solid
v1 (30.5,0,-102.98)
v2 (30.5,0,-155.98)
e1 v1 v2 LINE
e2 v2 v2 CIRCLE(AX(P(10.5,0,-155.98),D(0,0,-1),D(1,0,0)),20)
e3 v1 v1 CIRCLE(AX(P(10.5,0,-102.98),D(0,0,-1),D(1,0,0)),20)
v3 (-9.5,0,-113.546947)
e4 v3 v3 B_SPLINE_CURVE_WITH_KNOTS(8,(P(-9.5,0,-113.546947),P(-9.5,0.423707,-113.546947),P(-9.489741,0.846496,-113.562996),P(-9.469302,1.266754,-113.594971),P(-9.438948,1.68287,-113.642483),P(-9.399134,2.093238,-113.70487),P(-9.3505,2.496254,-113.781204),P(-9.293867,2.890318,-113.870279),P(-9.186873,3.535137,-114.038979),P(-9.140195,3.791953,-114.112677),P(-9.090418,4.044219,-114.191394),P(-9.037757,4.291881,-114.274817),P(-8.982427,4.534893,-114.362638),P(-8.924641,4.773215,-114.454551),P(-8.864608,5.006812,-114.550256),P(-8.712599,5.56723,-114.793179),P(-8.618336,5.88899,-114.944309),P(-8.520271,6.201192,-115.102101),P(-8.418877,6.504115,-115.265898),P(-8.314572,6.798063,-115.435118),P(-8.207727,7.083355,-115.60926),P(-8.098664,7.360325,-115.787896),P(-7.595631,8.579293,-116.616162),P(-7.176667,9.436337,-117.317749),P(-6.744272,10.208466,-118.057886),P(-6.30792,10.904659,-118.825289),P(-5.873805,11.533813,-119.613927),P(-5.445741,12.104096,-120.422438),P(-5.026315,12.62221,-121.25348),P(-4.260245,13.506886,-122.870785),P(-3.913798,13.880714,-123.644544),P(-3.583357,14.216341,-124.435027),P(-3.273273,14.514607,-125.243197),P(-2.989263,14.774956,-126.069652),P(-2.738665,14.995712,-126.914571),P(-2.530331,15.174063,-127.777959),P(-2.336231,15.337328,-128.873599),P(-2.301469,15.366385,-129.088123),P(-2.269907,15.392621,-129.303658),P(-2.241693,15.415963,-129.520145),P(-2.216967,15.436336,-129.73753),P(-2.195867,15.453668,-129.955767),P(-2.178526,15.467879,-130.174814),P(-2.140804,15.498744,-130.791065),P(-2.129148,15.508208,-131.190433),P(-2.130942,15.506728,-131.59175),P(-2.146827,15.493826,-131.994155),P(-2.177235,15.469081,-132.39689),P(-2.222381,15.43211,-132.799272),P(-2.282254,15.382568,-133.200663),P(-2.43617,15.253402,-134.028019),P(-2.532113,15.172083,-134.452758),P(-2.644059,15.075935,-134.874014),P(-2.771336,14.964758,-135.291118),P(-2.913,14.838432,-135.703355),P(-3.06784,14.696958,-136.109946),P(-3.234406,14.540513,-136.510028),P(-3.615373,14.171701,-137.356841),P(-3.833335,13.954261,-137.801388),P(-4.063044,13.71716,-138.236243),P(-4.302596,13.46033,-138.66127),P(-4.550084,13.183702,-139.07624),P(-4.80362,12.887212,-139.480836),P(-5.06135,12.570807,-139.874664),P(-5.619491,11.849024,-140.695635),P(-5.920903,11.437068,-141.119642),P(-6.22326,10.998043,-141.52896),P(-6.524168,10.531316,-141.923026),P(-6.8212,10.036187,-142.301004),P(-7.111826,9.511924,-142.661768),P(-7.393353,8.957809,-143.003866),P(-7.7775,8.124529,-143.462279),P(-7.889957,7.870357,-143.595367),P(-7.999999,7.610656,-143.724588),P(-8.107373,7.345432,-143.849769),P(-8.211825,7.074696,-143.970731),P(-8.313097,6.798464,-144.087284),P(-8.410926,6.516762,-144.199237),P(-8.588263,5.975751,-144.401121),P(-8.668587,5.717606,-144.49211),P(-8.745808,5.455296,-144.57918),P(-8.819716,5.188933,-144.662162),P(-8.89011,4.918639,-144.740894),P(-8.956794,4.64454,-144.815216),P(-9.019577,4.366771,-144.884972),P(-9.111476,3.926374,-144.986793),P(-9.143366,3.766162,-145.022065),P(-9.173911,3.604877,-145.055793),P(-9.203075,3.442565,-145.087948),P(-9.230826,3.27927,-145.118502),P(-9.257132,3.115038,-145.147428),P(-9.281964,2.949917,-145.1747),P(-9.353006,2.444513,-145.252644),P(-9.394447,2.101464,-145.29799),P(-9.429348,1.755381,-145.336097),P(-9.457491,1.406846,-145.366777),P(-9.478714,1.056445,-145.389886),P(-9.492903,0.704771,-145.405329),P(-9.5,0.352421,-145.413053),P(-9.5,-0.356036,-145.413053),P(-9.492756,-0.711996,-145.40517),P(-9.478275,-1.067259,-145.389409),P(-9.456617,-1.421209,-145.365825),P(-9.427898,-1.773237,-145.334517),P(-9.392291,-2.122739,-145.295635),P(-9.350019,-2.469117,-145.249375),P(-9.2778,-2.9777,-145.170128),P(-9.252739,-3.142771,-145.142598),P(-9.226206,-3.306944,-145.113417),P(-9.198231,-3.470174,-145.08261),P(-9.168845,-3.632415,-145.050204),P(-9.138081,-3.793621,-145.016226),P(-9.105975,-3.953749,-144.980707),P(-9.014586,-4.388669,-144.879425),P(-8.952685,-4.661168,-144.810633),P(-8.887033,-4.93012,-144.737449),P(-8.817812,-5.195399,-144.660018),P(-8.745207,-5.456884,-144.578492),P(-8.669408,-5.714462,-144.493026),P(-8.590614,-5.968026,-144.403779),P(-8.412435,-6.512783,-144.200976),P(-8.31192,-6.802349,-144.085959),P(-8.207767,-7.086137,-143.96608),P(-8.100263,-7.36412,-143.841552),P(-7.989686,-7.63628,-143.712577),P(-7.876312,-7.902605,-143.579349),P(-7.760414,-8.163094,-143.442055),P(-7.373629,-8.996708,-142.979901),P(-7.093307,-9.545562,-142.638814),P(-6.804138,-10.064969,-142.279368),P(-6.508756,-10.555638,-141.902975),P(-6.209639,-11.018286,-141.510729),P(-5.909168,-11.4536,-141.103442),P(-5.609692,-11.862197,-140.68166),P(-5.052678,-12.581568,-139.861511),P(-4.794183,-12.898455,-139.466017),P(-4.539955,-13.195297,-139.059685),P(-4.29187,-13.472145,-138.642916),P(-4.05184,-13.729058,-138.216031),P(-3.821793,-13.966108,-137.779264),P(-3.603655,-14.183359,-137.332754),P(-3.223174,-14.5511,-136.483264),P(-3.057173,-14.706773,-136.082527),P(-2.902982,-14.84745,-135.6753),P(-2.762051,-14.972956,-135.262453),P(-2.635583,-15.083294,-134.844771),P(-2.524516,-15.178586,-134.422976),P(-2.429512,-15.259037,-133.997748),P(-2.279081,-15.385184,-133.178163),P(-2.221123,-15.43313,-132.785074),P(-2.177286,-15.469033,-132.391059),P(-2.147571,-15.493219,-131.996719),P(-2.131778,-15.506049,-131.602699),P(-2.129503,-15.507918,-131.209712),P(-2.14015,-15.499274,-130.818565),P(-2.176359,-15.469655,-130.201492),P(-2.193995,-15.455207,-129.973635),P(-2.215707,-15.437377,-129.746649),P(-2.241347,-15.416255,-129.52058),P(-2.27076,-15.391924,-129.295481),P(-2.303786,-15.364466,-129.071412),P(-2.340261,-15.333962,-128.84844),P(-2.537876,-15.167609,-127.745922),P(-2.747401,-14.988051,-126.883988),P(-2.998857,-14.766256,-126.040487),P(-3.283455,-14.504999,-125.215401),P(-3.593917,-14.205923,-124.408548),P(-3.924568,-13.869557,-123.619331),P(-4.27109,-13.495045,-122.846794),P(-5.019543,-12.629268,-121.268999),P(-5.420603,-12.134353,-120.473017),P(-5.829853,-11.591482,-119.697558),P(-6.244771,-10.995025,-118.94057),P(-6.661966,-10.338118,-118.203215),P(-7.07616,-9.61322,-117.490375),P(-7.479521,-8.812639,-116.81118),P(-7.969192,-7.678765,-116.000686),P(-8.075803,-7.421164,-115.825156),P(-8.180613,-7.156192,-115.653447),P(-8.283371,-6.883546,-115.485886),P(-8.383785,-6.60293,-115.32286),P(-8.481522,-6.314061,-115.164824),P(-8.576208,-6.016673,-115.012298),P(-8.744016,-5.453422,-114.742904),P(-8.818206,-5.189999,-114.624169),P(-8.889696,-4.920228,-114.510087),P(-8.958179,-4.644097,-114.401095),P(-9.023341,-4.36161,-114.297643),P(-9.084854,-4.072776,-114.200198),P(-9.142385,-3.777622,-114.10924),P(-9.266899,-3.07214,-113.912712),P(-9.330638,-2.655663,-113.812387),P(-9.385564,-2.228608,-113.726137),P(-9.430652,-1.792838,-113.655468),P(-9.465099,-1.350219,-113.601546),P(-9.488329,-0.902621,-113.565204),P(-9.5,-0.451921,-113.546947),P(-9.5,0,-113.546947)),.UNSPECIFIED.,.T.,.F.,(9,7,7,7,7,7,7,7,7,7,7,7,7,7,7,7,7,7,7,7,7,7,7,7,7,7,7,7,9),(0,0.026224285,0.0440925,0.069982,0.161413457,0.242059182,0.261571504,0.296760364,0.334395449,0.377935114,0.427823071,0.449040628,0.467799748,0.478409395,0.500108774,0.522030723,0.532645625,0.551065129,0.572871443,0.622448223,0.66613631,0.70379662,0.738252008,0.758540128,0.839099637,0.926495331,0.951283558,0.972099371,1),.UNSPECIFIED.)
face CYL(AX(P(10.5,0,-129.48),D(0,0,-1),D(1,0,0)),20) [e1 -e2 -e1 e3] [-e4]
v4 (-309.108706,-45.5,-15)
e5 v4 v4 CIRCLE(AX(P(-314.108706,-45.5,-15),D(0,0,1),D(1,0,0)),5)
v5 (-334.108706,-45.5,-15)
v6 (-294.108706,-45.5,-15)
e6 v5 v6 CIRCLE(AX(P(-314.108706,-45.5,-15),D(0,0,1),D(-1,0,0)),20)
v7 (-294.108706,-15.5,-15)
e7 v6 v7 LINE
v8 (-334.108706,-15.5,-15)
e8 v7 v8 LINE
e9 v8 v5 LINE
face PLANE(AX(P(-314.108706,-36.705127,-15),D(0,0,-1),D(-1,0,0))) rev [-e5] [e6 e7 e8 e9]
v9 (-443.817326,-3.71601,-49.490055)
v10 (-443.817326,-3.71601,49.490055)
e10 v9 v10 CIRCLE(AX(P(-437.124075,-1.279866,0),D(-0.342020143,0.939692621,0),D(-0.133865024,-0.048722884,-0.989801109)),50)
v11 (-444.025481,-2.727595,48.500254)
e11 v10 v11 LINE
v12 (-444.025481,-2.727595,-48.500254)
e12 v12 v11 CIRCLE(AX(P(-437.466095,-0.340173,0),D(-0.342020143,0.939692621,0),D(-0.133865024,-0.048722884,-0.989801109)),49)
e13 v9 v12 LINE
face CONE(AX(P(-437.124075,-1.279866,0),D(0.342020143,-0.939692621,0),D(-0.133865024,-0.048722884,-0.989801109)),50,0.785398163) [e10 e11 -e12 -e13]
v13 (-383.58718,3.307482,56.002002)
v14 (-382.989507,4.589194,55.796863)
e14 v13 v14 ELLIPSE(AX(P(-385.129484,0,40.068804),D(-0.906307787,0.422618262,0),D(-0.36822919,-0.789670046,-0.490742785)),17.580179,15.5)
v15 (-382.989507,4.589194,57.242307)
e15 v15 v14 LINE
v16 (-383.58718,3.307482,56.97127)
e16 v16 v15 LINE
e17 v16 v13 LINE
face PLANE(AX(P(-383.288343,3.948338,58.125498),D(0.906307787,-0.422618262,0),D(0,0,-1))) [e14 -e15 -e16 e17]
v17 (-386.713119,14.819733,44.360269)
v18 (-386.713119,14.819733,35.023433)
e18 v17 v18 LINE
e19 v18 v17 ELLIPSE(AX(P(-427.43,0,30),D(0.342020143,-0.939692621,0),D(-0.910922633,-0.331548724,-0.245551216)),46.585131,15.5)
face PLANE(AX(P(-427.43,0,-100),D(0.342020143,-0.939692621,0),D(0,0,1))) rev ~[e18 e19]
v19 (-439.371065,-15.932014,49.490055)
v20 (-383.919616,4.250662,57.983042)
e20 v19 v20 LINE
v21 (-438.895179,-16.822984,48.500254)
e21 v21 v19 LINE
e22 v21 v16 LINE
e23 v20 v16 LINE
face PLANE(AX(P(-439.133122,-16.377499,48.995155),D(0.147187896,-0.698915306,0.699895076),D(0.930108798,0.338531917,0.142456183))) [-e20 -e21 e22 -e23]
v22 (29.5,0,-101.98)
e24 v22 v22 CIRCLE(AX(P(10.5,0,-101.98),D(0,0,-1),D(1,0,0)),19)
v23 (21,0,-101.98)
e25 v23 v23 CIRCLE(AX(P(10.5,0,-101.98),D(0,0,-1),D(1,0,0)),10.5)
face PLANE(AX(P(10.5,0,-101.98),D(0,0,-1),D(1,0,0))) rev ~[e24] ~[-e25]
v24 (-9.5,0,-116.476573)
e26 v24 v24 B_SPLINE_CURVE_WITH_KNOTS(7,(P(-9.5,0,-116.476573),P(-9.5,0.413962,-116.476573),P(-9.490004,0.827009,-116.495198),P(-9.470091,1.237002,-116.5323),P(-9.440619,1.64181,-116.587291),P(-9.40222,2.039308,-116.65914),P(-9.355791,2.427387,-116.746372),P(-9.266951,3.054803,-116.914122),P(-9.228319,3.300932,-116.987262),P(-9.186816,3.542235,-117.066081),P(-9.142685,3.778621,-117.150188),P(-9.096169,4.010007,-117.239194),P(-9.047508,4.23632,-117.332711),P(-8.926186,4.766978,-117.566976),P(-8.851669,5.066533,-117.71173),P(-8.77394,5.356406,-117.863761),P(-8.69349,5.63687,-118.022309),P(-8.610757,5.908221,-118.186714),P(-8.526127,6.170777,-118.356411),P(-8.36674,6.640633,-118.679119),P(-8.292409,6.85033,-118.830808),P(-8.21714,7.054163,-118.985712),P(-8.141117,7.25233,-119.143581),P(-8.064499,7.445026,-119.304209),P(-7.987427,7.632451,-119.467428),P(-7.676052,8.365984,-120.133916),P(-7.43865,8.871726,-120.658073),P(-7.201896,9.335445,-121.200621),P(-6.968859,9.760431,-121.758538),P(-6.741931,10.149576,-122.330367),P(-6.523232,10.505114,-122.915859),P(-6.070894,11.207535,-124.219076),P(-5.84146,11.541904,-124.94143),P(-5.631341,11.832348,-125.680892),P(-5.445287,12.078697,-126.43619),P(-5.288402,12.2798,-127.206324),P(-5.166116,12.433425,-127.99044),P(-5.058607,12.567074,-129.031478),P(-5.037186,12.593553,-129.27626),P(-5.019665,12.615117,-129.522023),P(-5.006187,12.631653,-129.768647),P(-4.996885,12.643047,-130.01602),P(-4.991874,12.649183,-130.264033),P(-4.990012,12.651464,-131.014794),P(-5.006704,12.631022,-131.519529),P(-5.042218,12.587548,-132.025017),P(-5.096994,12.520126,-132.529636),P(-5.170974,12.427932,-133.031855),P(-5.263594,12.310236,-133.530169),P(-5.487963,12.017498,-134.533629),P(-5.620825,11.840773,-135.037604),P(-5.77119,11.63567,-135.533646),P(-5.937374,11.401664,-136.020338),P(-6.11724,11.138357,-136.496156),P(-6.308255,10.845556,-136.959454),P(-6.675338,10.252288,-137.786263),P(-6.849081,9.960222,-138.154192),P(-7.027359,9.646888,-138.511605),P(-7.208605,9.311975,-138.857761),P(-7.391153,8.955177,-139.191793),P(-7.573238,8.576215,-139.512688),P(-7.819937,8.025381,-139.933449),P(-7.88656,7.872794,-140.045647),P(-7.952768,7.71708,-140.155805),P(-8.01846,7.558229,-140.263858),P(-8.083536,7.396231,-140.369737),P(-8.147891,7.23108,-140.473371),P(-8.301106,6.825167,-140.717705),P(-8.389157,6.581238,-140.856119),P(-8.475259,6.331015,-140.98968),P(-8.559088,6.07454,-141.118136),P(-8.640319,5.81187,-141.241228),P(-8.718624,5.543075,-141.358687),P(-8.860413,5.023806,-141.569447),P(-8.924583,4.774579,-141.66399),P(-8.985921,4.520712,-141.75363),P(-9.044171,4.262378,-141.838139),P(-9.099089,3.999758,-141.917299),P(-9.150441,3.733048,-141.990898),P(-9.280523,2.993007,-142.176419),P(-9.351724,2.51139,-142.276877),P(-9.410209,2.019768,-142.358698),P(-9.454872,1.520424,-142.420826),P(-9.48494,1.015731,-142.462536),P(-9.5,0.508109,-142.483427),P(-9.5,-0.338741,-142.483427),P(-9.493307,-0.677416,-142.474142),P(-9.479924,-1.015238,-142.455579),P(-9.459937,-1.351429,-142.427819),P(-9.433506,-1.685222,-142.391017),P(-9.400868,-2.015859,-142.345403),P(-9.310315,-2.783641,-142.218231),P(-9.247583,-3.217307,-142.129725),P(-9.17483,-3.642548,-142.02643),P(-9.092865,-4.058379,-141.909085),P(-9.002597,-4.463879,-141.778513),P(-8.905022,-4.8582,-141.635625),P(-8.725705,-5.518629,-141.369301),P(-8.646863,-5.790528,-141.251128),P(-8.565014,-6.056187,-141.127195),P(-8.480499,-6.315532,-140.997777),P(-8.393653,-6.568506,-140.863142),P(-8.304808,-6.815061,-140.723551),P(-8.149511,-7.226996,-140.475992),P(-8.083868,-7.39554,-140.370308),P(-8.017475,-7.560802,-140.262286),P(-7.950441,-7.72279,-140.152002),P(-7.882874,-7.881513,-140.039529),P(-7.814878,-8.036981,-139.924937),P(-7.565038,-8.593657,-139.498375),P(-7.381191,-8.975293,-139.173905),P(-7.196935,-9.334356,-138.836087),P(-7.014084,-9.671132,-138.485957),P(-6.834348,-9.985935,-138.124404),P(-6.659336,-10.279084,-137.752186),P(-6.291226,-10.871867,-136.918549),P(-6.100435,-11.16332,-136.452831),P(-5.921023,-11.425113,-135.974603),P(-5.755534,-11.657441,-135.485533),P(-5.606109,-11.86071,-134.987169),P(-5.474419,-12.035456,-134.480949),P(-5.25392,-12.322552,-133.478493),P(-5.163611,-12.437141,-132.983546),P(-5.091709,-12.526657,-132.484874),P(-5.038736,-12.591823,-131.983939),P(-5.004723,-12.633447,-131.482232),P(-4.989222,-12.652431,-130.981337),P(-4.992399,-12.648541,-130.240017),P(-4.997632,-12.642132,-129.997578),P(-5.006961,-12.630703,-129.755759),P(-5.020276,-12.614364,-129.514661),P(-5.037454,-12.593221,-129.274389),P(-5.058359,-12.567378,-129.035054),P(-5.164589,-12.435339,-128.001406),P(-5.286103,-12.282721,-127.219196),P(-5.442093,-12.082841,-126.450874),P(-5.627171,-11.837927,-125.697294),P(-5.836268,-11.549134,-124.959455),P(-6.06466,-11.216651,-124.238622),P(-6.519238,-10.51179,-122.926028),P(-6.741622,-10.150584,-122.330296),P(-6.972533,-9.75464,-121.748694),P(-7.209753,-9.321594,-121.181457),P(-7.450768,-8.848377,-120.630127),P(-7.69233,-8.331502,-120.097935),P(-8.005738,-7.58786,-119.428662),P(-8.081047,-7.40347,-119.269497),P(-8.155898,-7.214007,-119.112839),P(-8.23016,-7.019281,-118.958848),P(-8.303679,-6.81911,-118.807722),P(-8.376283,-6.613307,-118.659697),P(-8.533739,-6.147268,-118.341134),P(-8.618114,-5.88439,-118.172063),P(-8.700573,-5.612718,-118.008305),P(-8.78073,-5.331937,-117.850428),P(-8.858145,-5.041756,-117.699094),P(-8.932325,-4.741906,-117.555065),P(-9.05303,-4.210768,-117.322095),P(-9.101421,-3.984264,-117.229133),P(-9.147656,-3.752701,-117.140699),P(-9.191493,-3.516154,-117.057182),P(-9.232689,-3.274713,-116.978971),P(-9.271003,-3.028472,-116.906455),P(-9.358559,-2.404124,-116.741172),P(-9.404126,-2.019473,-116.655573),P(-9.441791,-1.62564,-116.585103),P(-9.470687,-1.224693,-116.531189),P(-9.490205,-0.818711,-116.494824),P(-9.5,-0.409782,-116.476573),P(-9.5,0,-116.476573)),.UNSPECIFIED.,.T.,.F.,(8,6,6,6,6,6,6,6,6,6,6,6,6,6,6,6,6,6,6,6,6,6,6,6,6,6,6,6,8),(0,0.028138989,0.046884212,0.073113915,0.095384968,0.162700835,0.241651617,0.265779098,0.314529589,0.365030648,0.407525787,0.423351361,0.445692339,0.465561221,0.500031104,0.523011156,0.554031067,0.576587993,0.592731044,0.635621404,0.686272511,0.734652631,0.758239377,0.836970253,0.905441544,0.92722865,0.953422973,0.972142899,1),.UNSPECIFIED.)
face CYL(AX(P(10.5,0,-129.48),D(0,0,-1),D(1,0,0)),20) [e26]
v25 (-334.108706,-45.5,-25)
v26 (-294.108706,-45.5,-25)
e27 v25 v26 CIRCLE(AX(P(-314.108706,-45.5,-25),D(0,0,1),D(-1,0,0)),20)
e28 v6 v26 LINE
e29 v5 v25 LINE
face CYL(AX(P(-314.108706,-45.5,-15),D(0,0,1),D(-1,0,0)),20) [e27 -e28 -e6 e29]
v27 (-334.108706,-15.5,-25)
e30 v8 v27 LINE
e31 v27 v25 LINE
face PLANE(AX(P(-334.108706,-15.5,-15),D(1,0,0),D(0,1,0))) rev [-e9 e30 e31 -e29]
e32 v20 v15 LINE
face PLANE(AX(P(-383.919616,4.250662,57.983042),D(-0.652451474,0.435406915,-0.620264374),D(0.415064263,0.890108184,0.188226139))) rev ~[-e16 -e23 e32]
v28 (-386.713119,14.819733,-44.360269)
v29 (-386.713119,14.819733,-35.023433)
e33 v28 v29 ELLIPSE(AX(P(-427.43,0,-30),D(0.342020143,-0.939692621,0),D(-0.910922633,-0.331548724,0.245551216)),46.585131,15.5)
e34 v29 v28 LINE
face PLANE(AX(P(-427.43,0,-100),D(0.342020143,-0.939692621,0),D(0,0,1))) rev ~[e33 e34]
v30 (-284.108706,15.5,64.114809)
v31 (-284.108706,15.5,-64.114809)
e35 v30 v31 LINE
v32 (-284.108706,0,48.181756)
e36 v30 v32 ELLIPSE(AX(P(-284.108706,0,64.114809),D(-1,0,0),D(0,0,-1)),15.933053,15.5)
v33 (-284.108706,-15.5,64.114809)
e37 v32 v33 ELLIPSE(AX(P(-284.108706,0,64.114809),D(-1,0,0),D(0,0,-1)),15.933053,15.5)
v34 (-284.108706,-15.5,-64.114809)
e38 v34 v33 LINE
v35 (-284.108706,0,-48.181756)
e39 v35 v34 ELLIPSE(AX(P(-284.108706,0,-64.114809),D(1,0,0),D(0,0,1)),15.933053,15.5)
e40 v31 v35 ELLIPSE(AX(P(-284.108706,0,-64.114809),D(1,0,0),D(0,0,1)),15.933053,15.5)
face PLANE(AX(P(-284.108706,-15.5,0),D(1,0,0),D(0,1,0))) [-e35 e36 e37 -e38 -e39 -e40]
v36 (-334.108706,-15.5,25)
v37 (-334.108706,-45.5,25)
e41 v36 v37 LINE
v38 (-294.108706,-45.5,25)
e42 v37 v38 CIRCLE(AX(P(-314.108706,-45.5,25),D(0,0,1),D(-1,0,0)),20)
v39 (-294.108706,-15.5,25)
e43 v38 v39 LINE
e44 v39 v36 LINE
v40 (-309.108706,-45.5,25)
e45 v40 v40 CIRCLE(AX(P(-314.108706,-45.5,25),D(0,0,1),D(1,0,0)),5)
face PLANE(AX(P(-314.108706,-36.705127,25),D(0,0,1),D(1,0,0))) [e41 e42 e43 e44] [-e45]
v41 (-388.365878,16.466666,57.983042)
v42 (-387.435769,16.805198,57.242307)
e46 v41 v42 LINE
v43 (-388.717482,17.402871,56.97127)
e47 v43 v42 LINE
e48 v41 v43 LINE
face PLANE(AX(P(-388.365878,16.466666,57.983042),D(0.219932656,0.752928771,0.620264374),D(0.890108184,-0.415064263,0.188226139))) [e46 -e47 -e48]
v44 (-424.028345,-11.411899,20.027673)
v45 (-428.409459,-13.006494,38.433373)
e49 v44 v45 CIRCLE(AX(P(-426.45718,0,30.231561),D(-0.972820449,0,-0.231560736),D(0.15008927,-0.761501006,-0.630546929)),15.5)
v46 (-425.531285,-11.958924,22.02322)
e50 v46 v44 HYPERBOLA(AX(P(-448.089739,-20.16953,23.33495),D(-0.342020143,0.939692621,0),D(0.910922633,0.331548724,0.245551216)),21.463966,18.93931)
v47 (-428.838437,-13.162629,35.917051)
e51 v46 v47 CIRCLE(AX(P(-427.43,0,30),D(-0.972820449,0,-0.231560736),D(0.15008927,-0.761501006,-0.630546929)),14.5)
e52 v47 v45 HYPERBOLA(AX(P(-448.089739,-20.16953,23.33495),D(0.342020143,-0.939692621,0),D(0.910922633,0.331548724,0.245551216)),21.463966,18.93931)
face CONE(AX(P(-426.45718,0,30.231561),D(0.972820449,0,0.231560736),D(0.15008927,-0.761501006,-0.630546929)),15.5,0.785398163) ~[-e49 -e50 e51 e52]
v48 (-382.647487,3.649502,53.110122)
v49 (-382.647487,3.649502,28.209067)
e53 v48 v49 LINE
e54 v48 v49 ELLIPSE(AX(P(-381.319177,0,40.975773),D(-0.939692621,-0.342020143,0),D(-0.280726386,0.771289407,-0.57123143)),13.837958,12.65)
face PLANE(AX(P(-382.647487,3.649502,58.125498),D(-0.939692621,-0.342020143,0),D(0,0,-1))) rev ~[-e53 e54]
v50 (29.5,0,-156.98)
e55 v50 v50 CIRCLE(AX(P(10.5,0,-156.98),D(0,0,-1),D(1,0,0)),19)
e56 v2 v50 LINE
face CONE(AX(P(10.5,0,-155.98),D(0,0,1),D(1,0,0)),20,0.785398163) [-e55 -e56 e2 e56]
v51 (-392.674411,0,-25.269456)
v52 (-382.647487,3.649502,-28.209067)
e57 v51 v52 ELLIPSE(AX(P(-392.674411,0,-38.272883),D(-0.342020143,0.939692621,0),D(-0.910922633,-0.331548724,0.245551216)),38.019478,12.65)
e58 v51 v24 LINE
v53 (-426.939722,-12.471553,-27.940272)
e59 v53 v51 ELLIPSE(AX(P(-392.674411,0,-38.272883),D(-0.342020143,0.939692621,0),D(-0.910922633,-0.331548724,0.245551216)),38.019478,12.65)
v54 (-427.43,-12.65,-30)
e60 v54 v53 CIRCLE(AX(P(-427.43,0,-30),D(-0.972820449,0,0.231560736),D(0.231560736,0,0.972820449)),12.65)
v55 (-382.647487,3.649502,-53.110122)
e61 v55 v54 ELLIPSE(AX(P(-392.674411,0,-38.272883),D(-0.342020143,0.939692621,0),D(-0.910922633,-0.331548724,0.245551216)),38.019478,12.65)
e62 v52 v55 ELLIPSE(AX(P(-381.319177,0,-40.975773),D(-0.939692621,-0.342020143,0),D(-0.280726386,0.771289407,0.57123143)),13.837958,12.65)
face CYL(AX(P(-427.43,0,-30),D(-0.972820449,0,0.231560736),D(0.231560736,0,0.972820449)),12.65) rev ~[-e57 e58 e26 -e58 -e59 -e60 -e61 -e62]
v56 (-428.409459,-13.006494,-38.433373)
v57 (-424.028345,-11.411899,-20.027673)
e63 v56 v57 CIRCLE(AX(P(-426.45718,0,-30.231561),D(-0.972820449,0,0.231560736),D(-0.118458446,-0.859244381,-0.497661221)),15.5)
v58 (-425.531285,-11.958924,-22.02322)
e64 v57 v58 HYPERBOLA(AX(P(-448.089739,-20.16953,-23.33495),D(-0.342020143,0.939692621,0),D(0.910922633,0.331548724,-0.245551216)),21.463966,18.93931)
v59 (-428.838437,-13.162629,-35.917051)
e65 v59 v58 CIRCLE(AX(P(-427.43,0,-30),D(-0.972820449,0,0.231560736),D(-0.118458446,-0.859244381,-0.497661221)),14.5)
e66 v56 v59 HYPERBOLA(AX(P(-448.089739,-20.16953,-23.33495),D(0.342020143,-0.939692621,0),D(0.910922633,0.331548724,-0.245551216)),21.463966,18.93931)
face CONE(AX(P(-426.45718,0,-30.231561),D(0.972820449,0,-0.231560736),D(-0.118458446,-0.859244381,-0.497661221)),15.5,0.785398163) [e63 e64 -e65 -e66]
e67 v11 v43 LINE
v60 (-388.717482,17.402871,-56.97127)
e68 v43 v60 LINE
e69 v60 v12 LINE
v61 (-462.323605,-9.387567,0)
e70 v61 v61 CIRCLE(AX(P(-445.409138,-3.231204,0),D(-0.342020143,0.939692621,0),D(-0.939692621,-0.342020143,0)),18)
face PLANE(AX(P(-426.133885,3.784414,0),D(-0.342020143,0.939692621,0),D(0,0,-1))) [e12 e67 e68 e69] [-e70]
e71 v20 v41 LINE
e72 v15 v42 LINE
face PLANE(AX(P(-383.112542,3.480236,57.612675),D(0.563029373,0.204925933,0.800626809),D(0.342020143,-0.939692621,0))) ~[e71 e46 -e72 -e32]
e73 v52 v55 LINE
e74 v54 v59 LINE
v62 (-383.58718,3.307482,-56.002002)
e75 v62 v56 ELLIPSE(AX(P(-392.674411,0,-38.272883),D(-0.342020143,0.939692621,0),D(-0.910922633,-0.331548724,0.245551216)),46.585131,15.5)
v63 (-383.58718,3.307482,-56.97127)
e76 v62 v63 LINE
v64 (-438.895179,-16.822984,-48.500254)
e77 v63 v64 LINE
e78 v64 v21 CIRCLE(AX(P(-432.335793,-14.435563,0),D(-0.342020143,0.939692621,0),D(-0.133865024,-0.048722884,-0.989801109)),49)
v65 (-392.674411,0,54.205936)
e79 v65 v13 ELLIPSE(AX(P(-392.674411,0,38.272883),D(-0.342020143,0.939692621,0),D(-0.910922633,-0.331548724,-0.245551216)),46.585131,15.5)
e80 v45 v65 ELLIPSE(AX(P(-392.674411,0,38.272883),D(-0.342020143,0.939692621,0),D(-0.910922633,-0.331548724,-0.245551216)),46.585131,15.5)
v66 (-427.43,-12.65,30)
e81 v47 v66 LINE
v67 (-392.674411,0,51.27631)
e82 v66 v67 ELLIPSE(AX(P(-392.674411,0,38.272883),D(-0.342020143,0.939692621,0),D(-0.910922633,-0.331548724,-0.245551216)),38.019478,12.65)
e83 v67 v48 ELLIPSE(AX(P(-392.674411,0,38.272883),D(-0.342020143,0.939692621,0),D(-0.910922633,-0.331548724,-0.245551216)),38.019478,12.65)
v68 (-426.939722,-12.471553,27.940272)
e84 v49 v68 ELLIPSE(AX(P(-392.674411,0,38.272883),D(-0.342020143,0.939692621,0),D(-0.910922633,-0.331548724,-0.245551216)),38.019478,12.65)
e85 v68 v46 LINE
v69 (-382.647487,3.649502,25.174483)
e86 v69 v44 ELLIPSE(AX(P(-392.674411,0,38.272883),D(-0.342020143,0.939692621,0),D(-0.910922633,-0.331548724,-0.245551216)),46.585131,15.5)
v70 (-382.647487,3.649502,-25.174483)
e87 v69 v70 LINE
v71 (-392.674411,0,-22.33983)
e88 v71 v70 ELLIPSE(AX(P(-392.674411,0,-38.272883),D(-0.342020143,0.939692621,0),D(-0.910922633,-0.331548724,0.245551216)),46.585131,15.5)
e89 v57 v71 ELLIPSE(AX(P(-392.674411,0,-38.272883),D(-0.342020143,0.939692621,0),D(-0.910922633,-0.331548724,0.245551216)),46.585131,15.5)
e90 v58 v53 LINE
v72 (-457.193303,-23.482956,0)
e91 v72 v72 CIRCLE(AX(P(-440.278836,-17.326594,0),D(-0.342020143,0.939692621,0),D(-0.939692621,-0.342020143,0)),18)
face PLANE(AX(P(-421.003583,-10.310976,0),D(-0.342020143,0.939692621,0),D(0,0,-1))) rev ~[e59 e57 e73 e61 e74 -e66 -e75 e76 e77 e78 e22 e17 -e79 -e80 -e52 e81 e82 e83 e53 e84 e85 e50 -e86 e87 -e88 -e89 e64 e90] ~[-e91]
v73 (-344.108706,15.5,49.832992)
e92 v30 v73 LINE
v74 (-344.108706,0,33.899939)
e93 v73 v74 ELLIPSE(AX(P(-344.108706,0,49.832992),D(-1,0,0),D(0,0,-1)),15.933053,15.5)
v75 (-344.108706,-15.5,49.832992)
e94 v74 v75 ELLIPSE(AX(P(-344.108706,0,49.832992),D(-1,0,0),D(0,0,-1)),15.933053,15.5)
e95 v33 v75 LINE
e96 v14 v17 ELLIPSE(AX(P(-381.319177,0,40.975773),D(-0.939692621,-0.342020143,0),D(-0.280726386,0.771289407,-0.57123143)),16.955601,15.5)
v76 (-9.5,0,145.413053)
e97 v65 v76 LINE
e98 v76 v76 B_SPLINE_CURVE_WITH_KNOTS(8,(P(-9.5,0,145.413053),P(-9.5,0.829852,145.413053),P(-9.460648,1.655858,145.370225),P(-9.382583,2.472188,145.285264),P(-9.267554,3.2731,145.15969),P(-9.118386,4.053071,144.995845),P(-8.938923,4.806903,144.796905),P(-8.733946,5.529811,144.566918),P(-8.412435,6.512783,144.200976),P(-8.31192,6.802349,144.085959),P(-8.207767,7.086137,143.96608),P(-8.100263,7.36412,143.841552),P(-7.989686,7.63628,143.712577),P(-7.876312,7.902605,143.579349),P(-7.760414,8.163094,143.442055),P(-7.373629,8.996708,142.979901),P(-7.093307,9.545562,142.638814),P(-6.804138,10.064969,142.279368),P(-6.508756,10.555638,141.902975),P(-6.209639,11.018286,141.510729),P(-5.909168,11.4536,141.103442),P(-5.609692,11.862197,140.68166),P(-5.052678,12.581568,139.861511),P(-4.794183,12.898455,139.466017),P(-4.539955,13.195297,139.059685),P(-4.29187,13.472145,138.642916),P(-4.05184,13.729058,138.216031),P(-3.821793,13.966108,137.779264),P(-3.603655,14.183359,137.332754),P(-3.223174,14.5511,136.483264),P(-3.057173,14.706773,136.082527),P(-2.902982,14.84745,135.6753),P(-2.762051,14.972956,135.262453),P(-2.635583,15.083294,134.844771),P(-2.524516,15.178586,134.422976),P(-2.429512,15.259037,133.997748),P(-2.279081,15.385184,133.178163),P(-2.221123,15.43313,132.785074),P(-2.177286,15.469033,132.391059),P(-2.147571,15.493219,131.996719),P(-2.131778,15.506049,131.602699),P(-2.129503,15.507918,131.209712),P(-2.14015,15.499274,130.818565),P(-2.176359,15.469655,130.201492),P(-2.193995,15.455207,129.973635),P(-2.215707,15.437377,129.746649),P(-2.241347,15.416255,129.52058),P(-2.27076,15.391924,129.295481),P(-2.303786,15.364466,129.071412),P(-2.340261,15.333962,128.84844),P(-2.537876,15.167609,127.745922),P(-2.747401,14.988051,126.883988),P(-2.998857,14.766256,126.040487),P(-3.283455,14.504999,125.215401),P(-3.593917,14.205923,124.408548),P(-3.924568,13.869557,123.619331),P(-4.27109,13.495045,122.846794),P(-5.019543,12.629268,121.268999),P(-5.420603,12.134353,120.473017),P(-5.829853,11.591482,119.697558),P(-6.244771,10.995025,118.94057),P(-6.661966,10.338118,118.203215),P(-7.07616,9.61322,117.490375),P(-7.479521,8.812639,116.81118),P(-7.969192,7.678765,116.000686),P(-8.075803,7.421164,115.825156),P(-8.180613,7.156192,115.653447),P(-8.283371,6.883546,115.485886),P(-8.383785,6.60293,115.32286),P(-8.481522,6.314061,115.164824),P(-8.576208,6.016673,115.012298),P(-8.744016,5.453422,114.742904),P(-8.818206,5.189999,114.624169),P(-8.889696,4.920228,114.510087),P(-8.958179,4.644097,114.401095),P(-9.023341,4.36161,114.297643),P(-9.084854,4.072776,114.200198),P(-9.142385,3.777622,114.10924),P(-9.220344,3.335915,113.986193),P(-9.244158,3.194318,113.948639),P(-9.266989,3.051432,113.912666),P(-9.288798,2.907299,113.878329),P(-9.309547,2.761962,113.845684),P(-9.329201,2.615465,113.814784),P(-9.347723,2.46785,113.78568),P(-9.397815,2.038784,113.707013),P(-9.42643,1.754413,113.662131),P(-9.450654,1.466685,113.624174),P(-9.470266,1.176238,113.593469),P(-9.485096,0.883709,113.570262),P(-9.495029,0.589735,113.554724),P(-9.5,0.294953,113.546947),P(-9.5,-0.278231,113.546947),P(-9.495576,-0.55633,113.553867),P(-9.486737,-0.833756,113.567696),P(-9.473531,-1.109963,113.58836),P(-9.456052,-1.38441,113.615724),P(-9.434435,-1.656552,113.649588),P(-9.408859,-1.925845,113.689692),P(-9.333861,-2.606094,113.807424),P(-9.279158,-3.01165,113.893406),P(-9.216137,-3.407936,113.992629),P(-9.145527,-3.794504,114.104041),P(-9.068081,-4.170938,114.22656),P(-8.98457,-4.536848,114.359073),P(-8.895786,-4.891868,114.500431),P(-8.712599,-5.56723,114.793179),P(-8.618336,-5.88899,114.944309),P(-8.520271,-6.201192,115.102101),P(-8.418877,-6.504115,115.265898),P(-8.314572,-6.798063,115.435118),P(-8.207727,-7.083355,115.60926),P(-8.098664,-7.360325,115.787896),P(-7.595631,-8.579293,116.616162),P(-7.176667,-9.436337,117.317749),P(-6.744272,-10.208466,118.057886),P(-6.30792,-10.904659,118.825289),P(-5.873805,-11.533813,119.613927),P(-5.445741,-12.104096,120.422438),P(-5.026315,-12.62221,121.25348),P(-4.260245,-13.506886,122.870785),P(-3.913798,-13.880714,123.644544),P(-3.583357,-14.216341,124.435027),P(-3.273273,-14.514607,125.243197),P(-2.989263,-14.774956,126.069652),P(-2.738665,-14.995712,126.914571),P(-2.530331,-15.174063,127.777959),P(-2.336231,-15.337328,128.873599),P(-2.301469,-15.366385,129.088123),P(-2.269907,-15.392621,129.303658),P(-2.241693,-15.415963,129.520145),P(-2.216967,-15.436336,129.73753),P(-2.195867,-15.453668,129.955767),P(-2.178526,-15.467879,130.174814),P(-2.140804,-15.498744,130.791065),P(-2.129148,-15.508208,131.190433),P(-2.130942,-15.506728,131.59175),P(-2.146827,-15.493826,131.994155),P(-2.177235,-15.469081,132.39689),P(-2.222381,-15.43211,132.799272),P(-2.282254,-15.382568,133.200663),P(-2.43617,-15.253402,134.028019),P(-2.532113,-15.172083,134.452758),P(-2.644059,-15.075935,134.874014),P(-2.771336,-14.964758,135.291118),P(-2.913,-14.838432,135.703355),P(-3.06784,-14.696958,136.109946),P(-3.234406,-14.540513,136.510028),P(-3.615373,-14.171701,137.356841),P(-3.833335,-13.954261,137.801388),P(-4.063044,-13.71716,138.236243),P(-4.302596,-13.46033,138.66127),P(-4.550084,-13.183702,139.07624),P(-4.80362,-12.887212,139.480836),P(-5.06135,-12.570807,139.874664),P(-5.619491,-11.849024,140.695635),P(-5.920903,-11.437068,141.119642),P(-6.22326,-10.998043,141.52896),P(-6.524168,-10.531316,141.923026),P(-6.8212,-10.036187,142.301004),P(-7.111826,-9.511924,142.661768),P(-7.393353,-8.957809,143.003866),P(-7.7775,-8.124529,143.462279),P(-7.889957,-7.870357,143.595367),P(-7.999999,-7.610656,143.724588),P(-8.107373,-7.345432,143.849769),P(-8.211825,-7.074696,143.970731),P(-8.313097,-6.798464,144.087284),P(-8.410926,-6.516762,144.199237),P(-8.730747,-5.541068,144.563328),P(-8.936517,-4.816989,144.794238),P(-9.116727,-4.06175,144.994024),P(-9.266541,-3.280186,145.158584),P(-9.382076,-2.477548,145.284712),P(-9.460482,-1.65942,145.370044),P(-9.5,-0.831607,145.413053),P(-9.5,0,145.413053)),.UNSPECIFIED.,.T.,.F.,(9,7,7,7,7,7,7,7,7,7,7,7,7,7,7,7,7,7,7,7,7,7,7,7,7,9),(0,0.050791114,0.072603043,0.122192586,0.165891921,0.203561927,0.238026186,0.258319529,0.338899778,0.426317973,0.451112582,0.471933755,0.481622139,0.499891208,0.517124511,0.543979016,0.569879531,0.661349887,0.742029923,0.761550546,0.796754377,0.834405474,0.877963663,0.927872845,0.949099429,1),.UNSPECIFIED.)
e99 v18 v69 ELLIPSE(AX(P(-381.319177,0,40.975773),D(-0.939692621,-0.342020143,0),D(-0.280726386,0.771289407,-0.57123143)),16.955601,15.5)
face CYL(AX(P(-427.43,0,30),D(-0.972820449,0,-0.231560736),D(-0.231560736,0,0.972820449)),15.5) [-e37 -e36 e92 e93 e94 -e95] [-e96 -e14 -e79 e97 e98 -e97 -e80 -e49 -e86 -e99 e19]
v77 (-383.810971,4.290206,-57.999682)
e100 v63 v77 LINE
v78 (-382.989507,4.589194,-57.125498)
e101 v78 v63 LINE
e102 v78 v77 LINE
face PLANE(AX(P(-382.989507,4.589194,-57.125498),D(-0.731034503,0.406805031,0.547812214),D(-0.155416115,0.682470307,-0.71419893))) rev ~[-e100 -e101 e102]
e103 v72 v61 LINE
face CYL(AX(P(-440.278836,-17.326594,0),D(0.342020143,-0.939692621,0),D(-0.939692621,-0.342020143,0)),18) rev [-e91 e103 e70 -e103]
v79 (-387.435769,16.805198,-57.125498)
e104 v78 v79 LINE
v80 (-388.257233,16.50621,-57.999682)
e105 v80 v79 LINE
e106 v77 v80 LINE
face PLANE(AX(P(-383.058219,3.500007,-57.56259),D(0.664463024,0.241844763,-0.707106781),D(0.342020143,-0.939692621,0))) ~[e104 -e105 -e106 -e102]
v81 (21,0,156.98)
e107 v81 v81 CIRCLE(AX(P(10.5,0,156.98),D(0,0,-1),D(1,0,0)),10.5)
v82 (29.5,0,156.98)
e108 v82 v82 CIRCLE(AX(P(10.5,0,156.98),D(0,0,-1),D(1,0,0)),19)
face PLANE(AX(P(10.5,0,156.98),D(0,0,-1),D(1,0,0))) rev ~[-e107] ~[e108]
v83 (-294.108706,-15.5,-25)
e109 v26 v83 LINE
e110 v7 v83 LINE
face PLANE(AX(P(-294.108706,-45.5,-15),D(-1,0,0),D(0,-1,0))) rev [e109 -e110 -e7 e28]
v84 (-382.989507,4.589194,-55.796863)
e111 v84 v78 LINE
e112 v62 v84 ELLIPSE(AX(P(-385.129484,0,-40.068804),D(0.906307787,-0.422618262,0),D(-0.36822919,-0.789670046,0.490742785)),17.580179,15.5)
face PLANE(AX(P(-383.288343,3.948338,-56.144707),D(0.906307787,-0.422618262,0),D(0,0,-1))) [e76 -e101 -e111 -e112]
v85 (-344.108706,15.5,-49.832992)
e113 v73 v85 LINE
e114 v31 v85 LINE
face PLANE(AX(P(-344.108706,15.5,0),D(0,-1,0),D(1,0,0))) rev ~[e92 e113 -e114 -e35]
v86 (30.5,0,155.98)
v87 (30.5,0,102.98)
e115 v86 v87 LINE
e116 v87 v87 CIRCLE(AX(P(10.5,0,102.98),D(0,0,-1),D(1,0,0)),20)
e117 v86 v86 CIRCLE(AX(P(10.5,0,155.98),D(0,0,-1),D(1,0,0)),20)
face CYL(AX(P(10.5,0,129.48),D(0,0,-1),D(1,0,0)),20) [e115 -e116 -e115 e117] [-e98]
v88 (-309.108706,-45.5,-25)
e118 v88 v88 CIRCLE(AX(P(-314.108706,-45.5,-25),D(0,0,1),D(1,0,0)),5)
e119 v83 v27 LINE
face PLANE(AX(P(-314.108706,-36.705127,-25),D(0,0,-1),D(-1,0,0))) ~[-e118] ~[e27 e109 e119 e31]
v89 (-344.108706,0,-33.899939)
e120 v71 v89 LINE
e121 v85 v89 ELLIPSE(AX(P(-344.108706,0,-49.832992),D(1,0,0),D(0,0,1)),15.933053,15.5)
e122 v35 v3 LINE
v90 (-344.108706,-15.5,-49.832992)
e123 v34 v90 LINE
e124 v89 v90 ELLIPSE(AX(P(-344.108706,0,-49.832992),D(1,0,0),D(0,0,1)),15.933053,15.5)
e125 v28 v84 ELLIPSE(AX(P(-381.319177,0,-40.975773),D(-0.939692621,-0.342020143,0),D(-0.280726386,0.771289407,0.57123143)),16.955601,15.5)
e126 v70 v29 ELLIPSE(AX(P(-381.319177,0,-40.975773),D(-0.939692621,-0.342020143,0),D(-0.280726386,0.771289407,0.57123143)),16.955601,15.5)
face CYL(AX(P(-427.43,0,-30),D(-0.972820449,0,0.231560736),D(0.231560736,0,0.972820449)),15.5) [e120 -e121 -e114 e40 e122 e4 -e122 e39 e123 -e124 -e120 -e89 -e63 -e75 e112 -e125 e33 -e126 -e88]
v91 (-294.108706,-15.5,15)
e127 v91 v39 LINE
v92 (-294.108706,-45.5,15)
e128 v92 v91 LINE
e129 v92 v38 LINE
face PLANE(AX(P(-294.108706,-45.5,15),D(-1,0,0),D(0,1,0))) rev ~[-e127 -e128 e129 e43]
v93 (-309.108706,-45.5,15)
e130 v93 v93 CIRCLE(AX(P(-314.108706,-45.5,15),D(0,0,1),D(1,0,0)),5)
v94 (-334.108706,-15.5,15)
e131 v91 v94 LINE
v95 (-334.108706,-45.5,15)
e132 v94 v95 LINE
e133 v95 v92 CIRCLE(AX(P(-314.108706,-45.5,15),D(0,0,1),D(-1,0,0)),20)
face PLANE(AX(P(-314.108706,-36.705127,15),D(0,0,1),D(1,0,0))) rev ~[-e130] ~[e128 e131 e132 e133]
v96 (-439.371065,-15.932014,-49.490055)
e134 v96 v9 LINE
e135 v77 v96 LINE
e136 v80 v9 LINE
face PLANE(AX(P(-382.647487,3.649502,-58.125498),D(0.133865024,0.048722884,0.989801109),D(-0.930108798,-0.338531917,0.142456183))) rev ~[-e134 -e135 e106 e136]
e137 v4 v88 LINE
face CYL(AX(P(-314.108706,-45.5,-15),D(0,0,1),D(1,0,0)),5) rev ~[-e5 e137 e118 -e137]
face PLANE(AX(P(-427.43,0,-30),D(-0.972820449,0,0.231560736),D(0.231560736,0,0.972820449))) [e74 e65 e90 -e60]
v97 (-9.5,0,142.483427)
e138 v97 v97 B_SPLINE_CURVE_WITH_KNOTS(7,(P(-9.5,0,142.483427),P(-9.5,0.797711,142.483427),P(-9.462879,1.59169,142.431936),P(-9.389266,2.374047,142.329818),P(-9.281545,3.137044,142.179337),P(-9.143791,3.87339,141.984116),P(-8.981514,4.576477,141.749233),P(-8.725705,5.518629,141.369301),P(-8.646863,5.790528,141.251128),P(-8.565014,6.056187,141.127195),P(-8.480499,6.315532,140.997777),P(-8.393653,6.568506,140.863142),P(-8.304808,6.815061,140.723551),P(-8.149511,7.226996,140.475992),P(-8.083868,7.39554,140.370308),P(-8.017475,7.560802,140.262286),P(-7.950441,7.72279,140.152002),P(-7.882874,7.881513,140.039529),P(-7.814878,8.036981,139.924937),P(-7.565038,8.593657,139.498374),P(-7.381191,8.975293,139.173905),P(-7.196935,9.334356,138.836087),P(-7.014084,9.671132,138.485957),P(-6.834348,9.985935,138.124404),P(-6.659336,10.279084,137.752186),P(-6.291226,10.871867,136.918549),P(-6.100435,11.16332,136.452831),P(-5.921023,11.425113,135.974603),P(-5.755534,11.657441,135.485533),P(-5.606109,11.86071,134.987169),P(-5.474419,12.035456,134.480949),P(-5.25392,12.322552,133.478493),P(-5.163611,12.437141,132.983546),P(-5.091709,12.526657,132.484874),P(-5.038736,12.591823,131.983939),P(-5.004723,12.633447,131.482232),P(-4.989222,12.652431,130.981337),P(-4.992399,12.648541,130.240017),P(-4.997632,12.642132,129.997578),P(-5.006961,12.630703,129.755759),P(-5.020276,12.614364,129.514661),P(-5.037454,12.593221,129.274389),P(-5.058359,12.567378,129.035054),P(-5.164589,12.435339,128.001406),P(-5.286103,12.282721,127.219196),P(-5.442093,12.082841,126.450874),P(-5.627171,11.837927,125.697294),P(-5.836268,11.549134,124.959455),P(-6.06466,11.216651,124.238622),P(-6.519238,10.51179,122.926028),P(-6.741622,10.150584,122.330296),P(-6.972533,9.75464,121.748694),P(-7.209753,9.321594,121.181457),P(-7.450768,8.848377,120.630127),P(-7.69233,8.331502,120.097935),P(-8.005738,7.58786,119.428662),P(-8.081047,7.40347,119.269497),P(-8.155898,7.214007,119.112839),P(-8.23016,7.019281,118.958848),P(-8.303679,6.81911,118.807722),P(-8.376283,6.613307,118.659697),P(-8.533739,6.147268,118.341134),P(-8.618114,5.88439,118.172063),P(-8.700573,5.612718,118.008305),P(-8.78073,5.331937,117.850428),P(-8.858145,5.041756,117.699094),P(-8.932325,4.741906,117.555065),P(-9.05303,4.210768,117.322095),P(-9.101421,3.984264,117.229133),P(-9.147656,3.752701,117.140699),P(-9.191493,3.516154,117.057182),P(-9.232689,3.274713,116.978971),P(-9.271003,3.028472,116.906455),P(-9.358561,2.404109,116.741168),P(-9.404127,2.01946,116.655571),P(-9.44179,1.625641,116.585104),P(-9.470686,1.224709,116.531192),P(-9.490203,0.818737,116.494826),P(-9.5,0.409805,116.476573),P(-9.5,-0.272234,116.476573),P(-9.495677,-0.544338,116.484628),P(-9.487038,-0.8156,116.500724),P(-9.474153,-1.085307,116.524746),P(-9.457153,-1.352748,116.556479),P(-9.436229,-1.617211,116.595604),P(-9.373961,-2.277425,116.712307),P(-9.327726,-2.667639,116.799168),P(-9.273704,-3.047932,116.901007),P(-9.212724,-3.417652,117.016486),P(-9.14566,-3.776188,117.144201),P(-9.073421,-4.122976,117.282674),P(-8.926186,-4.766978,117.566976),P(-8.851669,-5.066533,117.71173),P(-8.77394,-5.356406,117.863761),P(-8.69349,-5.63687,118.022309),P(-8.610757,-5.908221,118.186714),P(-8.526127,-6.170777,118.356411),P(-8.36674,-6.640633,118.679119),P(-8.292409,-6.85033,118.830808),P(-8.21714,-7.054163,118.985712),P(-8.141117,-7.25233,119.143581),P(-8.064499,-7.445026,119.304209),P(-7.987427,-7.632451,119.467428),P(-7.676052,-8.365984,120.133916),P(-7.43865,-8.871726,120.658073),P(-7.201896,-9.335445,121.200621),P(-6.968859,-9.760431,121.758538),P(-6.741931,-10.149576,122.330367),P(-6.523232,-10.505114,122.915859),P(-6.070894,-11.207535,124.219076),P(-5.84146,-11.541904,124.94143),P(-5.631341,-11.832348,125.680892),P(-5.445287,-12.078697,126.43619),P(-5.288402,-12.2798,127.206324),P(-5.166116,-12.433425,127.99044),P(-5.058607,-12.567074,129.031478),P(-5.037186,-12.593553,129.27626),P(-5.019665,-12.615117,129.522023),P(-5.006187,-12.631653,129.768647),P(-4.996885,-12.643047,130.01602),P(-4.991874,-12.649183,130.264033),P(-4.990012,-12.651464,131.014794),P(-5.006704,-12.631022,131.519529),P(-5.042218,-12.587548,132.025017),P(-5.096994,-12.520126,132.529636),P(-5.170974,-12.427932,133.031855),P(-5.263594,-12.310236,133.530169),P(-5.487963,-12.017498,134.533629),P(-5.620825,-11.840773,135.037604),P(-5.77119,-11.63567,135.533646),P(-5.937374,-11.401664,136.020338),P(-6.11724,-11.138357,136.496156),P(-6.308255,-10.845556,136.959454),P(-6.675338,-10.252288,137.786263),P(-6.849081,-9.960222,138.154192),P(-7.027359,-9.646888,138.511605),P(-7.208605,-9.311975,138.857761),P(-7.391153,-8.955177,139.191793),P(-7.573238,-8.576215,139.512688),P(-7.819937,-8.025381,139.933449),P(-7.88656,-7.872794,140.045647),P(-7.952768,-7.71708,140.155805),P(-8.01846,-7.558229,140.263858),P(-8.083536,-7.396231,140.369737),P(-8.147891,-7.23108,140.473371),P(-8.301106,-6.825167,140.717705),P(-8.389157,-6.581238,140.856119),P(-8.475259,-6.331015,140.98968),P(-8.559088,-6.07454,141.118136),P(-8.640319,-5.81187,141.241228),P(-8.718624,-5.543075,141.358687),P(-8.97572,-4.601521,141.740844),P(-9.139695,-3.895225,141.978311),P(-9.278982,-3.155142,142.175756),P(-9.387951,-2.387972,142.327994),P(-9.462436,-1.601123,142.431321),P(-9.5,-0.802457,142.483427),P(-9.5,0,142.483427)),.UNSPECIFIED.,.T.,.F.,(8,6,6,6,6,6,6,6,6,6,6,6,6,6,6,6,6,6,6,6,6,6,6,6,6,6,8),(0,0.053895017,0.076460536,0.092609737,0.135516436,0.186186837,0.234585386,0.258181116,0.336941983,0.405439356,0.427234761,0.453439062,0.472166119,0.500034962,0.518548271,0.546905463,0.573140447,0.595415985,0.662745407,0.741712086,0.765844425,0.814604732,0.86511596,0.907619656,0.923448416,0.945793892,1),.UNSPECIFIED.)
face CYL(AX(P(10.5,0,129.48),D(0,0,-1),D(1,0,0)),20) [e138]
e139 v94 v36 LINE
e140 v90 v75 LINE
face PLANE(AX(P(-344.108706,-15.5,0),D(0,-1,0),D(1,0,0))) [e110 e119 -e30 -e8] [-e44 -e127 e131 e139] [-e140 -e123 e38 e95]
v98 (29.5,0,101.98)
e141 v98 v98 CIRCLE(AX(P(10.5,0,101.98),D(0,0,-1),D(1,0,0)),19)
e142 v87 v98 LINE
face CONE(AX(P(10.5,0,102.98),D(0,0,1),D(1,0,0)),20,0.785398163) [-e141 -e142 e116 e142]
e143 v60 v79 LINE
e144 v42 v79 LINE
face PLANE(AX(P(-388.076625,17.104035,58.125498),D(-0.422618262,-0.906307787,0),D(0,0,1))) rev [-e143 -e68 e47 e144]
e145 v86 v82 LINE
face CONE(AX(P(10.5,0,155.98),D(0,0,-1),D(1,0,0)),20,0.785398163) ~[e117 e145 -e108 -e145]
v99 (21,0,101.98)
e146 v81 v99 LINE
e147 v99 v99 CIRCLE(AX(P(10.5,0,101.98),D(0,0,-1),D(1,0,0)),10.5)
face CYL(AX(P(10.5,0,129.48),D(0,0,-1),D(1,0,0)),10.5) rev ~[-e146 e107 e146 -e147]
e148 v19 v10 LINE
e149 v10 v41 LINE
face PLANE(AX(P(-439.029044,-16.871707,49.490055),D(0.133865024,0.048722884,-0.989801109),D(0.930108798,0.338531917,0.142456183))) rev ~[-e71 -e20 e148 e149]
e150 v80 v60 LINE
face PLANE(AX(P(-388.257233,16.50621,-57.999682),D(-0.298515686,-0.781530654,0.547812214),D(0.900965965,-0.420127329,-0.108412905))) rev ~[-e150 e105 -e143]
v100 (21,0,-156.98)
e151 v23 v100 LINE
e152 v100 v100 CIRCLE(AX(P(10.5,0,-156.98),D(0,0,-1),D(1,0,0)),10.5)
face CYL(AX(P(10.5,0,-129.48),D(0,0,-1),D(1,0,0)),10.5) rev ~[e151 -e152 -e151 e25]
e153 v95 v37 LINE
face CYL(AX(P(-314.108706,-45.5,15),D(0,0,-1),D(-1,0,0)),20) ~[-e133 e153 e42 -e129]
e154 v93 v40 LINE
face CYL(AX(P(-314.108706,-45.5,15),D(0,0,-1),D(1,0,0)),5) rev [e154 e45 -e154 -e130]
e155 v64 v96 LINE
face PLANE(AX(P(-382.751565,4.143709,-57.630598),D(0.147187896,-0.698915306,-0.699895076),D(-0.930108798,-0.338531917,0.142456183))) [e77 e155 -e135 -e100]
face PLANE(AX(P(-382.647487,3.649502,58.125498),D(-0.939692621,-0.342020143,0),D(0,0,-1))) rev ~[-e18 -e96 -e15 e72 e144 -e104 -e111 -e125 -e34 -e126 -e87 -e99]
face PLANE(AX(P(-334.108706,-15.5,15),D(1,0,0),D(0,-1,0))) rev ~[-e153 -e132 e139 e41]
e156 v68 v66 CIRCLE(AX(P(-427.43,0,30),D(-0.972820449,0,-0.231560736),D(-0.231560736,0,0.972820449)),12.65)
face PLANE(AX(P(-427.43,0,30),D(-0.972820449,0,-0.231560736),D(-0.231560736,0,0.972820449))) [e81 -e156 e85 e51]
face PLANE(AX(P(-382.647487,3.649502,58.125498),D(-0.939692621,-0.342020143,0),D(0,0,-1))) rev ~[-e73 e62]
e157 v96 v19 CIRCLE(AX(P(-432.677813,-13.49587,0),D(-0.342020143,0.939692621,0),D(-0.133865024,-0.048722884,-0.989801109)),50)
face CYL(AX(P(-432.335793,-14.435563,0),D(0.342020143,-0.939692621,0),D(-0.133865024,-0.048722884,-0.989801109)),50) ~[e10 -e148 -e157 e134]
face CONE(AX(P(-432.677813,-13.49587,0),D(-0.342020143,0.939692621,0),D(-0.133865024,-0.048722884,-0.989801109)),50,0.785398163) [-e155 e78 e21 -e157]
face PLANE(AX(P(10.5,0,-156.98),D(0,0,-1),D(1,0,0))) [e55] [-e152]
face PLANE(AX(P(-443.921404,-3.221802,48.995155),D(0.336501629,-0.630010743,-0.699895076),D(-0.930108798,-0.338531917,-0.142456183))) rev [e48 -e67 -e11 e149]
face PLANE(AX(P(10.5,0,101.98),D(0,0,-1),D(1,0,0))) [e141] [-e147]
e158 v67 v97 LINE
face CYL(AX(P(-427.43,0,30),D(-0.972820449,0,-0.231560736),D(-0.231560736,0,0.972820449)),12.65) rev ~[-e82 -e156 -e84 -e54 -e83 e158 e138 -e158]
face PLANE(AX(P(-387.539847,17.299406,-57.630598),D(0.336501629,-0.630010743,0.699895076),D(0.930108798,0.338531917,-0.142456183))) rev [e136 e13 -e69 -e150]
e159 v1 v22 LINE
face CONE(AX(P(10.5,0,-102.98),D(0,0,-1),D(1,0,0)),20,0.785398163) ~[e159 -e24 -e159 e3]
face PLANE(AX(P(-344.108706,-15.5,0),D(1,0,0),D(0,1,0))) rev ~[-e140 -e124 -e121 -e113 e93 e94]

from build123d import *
from OCP.BRepFilletAPI import BRepFilletAPI_MakeChamfer

# Parameters (mm, degrees)
SKETCH1_W                            = 9.5
SKETCH1_H                            = 55
BOSS_EXTRUDE1_REACH                  = 497.037
BOSS_EXTRUDE1_END_RADIUS             = 20
SKETCH2_R                            = 15.5
SKETCH2_R_2                          = 12.65
BOSS_EXTRUDE2_REACH                  = 497.037
BOSS_EXTRUDE2_END_RADIUS             = 20
SKETCH3_R                            = 15.5
SKETCH3_R_2                          = 12.65
SKETCH9_W                            = 200
SKETCH9_H                            = 33.234380704
CUT_EXTRUDE2_DEPTH                   = 198.5
SKETCH8_R                            = 18
BOSS_EXTRUDE3_DEPTH                  = 15
CHAMFER1_SIZE                        = 1
CHAMFER2_SIZE                        = 1
CHAMFER2_SIZE2                       = 0.883191486
BOSS_EXTRUDE5_REACH                  = 511.879
BOSS_EXTRUDE5_END_RADIUS             = 15.5
SKETCH13_W                           = 60
SKETCH13_H                           = 31
BOSS_EXTRUDE5_DIRECTION_2_REACH      = 511.879
BOSS_EXTRUDE5_DIRECTION_2_END_RADIUS = 15.5
CHAMFER4_SIZE                        = 1
SKETCH19_R                           = 5
BOSS_EXTRUDE7_DEPTH                  = 10


with BuildPart() as part:
    # Sketch1 → Revolve1 (revolve)
    with BuildSketch(Plane(origin=(0, 0, 0), x_dir=(1, 0, 0), z_dir=(0, 1, 0)), mode=Mode.PRIVATE) as revolve1_sk:
        with Locations((-4.75, 129.48)):
            Rectangle(SKETCH1_W, SKETCH1_H)
        with Locations((-4.75, -129.48)):
            Rectangle(SKETCH1_W, SKETCH1_H)
    revolve(revolve1_sk.sketch.rotate(Axis((10.5, 0, -101.98), (0, 0, -1)), 180), axis=Axis((10.5, 0, -101.98), (0, 0, -1)))

    # Boss-Extrude1: up to this cylinder (the profile starts outside it)
    boss_extrude1_end = Plane(origin=(10.5, 0, -44.652226), z_dir=(0, 0, 1)) * Cylinder(BOSS_EXTRUDE1_END_RADIUS, 1035.074, mode=Mode.PRIVATE)
    # Sketch2 → Boss-Extrude1 (add, up to the surface)
    with BuildSketch(Plane(origin=(-427.43, 0, -30), x_dir=(0.2315607356536785, 0, 0.9728204488514453), z_dir=(-0.9728204488514451, 0, 0.23156073565367846)), mode=Mode.PRIVATE) as boss_extrude1_sk1:
        Circle(SKETCH2_R)
        Circle(SKETCH2_R_2, mode=Mode.SUBTRACT)
    boss_extrude1_tool1 = extrude(boss_extrude1_sk1.sketch, amount=-BOSS_EXTRUDE1_REACH, mode=Mode.PRIVATE) - boss_extrude1_end
    add(boss_extrude1_tool1.solids().sort_by_distance((-430.917674, 0, -44.652226))[0])

    # Boss-Extrude2: up to this cylinder (the profile starts outside it)
    boss_extrude2_end = Plane(origin=(10.5, 0, 15.347774), z_dir=(0, 0, 1)) * Cylinder(BOSS_EXTRUDE2_END_RADIUS, 1035.074, mode=Mode.PRIVATE)
    # Sketch3 → Boss-Extrude2 (add, up to the surface)
    with BuildSketch(Plane(origin=(-427.43, 0, 30), x_dir=(-0.23156073565367818, 0, 0.9728204488514453), z_dir=(-0.9728204488514453, 0, -0.23156073565367818)), mode=Mode.PRIVATE) as boss_extrude2_sk1:
        Circle(SKETCH3_R)
        Circle(SKETCH3_R_2, mode=Mode.SUBTRACT)
    boss_extrude2_tool1 = extrude(boss_extrude2_sk1.sketch, amount=-BOSS_EXTRUDE2_REACH, mode=Mode.PRIVATE) - boss_extrude2_end
    add(boss_extrude2_tool1.solids().sort_by_distance((-423.942326, 0, 15.347774))[0])

    # Sketch9 → Cut-Extrude2 (cut, symmetric)
    with BuildSketch(Plane(origin=(-377.430188161, -137.373354004, 0), x_dir=(0, 0, 1), z_dir=(-0.9396926207859128, -0.34202014332565694, 0))):
        with Locations((0, 162.806860214)):
            Rectangle(SKETCH9_W, SKETCH9_H)
    extrude(amount=CUT_EXTRUDE2_DEPTH, both=True, mode=Mode.SUBTRACT)

    # Sketch8 → Boss-Extrude3 (add)
    with BuildSketch(Plane(origin=(-45.934180208, 126.203122901, 0), x_dir=(0, 0, -1), z_dir=(-0.34202014332565694, 0.9396926207859128, 1.048381213421869e-15))):
        with BuildLine():
            Line((-58.125498382, 358.322816903), (58.125498382, 358.322816903))
            Line((58.125498382, 358.322816903), (49.490055464, 418.322816903))
            ThreePointArc((49.490055464, 418.322816903), (0, 461.200007753), (-49.490055464, 418.322816903))
            Line((-49.490055464, 418.322816903), (-58.125498382, 358.322816903))
        make_face()
        with Locations(Location((0, 419.652816903, 0), (0, 0, 90))):
            Circle(SKETCH8_R, mode=Mode.SUBTRACT)
    extrude(amount=BOSS_EXTRUDE3_DEPTH)

    # Chamfer1
    chamfer1_edges = [part.edges().sort_by_distance(p)[0] for p in [
        (-9.5, 0, -156.98),
        (-9.5, 0, -101.98),
        (-9.5, 0, 101.98),
        (-9.5, 0, 156.98),
    ]]
    chamfer(chamfer1_edges, length=CHAMFER1_SIZE)

    # Chamfer2: one chamfer whose edges measure the first distance from different faces: ONE call of the kernel's chamfer builder (chamfer() names one face for all edges)
    chamfer2_edges_1 = [part.edges().sort_by_distance(p)[0] for p in [
        (-385.212638185, 10.697196363, 58.125498382),
    ]]
    chamfer2_side_1 = [part.faces().sort_by_distance(p)[0] for p in [
        (-413.403416809, 0.436592064, 53.807776923),
    ]]
    chamfer2_edges_2 = [part.edges().sort_by_distance(p)[0] for p in [
        (-385.212638185, 10.697196363, -58.125498382),
    ]]
    chamfer2_side_2 = [part.faces().sort_by_distance(p)[0] for p in [
        (-385.604654849, 11.774253296, 0),
    ]]
    chamfer2_edges_3 = [part.edges().sort_by_distance(p)[0] for p in [
        (-387.77778926, 17.744891019, 0),
        (-415.968567884, 7.48428672, 53.807776923),
        (-415.968567884, 7.48428672, -53.807776923),
        (-484.450726349, -17.44118054, 0),
        (-382.64748711, 3.649501708, 57.135102558),
        (-410.838265734, -6.611102592, 53.807776923),
        (-410.838265734, -6.611102592, -53.807776923),
        (-479.320424199, -31.536569852, 0),
        (-382.64748711, 3.649501708, -57.135102558),
    ]]
    chamfer2 = BRepFilletAPI_MakeChamfer(part.part.solid().wrapped)
    for e in chamfer2_edges_1:
        chamfer2.Add(CHAMFER2_SIZE, CHAMFER2_SIZE2, e.wrapped, chamfer2_side_1[0].wrapped)  # the first distance lies on this face
    for e in chamfer2_edges_2:
        chamfer2.Add(CHAMFER2_SIZE, CHAMFER2_SIZE2, e.wrapped, chamfer2_side_2[0].wrapped)  # the first distance lies on this face
    for e in chamfer2_edges_3:
        chamfer2.Add(CHAMFER2_SIZE, e.wrapped)
    add(Compound.cast(chamfer2.Shape()), mode=Mode.REPLACE)

    # Boss-Extrude5: up to this cylinder (the profile starts outside it)
    boss_extrude5_end = Plane(origin=(-326.943046764, 0, 53.918938836), z_dir=(-0.9728204488514453, 0, -0.2315607356536782)) * Cylinder(BOSS_EXTRUDE5_END_RADIUS, 1055.758, mode=Mode.PRIVATE)
    # Sketch13 → Boss-Extrude5 (add, up to the surface)
    with BuildSketch(Plane.XY, mode=Mode.PRIVATE) as boss_extrude5_sk1:
        with Locations((-314.108706206, 0)):
            Rectangle(SKETCH13_W, SKETCH13_H)
    boss_extrude5_tool1 = extrude(boss_extrude5_sk1.sketch, amount=BOSS_EXTRUDE5_REACH, mode=Mode.PRIVATE) - boss_extrude5_end
    add(boss_extrude5_tool1.solids().sort_by_distance((-314.108706, 0, 0))[0])

    # Boss-Extrude5 direction 2: up to this cylinder (the profile starts outside it)
    boss_extrude5_direction_2_end = Plane(origin=(-326.943046764, 0, -53.918938836), z_dir=(-0.9728204488514453, 0, 0.2315607356536785)) * Cylinder(BOSS_EXTRUDE5_DIRECTION_2_END_RADIUS, 1055.758, mode=Mode.PRIVATE)
    # Sketch13 → Boss-Extrude5 direction 2 (add, up to the surface)
    with BuildSketch(Plane.XY, mode=Mode.PRIVATE) as boss_extrude5_direction_2_sk1:
        with Locations((-314.108706206, 0)):
            Rectangle(SKETCH13_W, SKETCH13_H)
    boss_extrude5_direction_2_tool1 = extrude(boss_extrude5_direction_2_sk1.sketch, amount=-BOSS_EXTRUDE5_DIRECTION_2_REACH, mode=Mode.PRIVATE) - boss_extrude5_direction_2_end
    add(boss_extrude5_direction_2_tool1.solids().sort_by_distance((-314.108706, 0, 0))[0])

    # Chamfer4
    chamfer4_edges = [part.edges().sort_by_distance(p)[0] for p in [
        (-427.12856728, -15.445240802, -28.733637145),
        (-427.12856728, -15.445240802, 28.733637145),
    ]]
    chamfer(chamfer4_edges, length=CHAMFER4_SIZE)

    # Sketch19 → Boss-Extrude7 (add)
    with BuildSketch(Plane.XY.offset(15)):
        with BuildLine():
            Line((-334.108706206, -15.5), (-334.108706206, -45.5))
            ThreePointArc((-334.108706206, -45.5), (-314.108706206, -65.5), (-294.108706206, -45.5))
            Line((-294.108706206, -45.5), (-294.108706206, -15.5))
            Line((-294.108706206, -15.5), (-334.108706206, -15.5))
        make_face()
        with Locations((-314.108706206, -45.5)):
            Circle(SKETCH19_R, mode=Mode.SUBTRACT)
    boss_extrude7 = extrude(amount=BOSS_EXTRUDE7_DEPTH)

    # Mirror2: Boss-Extrude7 across plane
    add(boss_extrude7.mirror(Plane.XY))


solid = part.part
